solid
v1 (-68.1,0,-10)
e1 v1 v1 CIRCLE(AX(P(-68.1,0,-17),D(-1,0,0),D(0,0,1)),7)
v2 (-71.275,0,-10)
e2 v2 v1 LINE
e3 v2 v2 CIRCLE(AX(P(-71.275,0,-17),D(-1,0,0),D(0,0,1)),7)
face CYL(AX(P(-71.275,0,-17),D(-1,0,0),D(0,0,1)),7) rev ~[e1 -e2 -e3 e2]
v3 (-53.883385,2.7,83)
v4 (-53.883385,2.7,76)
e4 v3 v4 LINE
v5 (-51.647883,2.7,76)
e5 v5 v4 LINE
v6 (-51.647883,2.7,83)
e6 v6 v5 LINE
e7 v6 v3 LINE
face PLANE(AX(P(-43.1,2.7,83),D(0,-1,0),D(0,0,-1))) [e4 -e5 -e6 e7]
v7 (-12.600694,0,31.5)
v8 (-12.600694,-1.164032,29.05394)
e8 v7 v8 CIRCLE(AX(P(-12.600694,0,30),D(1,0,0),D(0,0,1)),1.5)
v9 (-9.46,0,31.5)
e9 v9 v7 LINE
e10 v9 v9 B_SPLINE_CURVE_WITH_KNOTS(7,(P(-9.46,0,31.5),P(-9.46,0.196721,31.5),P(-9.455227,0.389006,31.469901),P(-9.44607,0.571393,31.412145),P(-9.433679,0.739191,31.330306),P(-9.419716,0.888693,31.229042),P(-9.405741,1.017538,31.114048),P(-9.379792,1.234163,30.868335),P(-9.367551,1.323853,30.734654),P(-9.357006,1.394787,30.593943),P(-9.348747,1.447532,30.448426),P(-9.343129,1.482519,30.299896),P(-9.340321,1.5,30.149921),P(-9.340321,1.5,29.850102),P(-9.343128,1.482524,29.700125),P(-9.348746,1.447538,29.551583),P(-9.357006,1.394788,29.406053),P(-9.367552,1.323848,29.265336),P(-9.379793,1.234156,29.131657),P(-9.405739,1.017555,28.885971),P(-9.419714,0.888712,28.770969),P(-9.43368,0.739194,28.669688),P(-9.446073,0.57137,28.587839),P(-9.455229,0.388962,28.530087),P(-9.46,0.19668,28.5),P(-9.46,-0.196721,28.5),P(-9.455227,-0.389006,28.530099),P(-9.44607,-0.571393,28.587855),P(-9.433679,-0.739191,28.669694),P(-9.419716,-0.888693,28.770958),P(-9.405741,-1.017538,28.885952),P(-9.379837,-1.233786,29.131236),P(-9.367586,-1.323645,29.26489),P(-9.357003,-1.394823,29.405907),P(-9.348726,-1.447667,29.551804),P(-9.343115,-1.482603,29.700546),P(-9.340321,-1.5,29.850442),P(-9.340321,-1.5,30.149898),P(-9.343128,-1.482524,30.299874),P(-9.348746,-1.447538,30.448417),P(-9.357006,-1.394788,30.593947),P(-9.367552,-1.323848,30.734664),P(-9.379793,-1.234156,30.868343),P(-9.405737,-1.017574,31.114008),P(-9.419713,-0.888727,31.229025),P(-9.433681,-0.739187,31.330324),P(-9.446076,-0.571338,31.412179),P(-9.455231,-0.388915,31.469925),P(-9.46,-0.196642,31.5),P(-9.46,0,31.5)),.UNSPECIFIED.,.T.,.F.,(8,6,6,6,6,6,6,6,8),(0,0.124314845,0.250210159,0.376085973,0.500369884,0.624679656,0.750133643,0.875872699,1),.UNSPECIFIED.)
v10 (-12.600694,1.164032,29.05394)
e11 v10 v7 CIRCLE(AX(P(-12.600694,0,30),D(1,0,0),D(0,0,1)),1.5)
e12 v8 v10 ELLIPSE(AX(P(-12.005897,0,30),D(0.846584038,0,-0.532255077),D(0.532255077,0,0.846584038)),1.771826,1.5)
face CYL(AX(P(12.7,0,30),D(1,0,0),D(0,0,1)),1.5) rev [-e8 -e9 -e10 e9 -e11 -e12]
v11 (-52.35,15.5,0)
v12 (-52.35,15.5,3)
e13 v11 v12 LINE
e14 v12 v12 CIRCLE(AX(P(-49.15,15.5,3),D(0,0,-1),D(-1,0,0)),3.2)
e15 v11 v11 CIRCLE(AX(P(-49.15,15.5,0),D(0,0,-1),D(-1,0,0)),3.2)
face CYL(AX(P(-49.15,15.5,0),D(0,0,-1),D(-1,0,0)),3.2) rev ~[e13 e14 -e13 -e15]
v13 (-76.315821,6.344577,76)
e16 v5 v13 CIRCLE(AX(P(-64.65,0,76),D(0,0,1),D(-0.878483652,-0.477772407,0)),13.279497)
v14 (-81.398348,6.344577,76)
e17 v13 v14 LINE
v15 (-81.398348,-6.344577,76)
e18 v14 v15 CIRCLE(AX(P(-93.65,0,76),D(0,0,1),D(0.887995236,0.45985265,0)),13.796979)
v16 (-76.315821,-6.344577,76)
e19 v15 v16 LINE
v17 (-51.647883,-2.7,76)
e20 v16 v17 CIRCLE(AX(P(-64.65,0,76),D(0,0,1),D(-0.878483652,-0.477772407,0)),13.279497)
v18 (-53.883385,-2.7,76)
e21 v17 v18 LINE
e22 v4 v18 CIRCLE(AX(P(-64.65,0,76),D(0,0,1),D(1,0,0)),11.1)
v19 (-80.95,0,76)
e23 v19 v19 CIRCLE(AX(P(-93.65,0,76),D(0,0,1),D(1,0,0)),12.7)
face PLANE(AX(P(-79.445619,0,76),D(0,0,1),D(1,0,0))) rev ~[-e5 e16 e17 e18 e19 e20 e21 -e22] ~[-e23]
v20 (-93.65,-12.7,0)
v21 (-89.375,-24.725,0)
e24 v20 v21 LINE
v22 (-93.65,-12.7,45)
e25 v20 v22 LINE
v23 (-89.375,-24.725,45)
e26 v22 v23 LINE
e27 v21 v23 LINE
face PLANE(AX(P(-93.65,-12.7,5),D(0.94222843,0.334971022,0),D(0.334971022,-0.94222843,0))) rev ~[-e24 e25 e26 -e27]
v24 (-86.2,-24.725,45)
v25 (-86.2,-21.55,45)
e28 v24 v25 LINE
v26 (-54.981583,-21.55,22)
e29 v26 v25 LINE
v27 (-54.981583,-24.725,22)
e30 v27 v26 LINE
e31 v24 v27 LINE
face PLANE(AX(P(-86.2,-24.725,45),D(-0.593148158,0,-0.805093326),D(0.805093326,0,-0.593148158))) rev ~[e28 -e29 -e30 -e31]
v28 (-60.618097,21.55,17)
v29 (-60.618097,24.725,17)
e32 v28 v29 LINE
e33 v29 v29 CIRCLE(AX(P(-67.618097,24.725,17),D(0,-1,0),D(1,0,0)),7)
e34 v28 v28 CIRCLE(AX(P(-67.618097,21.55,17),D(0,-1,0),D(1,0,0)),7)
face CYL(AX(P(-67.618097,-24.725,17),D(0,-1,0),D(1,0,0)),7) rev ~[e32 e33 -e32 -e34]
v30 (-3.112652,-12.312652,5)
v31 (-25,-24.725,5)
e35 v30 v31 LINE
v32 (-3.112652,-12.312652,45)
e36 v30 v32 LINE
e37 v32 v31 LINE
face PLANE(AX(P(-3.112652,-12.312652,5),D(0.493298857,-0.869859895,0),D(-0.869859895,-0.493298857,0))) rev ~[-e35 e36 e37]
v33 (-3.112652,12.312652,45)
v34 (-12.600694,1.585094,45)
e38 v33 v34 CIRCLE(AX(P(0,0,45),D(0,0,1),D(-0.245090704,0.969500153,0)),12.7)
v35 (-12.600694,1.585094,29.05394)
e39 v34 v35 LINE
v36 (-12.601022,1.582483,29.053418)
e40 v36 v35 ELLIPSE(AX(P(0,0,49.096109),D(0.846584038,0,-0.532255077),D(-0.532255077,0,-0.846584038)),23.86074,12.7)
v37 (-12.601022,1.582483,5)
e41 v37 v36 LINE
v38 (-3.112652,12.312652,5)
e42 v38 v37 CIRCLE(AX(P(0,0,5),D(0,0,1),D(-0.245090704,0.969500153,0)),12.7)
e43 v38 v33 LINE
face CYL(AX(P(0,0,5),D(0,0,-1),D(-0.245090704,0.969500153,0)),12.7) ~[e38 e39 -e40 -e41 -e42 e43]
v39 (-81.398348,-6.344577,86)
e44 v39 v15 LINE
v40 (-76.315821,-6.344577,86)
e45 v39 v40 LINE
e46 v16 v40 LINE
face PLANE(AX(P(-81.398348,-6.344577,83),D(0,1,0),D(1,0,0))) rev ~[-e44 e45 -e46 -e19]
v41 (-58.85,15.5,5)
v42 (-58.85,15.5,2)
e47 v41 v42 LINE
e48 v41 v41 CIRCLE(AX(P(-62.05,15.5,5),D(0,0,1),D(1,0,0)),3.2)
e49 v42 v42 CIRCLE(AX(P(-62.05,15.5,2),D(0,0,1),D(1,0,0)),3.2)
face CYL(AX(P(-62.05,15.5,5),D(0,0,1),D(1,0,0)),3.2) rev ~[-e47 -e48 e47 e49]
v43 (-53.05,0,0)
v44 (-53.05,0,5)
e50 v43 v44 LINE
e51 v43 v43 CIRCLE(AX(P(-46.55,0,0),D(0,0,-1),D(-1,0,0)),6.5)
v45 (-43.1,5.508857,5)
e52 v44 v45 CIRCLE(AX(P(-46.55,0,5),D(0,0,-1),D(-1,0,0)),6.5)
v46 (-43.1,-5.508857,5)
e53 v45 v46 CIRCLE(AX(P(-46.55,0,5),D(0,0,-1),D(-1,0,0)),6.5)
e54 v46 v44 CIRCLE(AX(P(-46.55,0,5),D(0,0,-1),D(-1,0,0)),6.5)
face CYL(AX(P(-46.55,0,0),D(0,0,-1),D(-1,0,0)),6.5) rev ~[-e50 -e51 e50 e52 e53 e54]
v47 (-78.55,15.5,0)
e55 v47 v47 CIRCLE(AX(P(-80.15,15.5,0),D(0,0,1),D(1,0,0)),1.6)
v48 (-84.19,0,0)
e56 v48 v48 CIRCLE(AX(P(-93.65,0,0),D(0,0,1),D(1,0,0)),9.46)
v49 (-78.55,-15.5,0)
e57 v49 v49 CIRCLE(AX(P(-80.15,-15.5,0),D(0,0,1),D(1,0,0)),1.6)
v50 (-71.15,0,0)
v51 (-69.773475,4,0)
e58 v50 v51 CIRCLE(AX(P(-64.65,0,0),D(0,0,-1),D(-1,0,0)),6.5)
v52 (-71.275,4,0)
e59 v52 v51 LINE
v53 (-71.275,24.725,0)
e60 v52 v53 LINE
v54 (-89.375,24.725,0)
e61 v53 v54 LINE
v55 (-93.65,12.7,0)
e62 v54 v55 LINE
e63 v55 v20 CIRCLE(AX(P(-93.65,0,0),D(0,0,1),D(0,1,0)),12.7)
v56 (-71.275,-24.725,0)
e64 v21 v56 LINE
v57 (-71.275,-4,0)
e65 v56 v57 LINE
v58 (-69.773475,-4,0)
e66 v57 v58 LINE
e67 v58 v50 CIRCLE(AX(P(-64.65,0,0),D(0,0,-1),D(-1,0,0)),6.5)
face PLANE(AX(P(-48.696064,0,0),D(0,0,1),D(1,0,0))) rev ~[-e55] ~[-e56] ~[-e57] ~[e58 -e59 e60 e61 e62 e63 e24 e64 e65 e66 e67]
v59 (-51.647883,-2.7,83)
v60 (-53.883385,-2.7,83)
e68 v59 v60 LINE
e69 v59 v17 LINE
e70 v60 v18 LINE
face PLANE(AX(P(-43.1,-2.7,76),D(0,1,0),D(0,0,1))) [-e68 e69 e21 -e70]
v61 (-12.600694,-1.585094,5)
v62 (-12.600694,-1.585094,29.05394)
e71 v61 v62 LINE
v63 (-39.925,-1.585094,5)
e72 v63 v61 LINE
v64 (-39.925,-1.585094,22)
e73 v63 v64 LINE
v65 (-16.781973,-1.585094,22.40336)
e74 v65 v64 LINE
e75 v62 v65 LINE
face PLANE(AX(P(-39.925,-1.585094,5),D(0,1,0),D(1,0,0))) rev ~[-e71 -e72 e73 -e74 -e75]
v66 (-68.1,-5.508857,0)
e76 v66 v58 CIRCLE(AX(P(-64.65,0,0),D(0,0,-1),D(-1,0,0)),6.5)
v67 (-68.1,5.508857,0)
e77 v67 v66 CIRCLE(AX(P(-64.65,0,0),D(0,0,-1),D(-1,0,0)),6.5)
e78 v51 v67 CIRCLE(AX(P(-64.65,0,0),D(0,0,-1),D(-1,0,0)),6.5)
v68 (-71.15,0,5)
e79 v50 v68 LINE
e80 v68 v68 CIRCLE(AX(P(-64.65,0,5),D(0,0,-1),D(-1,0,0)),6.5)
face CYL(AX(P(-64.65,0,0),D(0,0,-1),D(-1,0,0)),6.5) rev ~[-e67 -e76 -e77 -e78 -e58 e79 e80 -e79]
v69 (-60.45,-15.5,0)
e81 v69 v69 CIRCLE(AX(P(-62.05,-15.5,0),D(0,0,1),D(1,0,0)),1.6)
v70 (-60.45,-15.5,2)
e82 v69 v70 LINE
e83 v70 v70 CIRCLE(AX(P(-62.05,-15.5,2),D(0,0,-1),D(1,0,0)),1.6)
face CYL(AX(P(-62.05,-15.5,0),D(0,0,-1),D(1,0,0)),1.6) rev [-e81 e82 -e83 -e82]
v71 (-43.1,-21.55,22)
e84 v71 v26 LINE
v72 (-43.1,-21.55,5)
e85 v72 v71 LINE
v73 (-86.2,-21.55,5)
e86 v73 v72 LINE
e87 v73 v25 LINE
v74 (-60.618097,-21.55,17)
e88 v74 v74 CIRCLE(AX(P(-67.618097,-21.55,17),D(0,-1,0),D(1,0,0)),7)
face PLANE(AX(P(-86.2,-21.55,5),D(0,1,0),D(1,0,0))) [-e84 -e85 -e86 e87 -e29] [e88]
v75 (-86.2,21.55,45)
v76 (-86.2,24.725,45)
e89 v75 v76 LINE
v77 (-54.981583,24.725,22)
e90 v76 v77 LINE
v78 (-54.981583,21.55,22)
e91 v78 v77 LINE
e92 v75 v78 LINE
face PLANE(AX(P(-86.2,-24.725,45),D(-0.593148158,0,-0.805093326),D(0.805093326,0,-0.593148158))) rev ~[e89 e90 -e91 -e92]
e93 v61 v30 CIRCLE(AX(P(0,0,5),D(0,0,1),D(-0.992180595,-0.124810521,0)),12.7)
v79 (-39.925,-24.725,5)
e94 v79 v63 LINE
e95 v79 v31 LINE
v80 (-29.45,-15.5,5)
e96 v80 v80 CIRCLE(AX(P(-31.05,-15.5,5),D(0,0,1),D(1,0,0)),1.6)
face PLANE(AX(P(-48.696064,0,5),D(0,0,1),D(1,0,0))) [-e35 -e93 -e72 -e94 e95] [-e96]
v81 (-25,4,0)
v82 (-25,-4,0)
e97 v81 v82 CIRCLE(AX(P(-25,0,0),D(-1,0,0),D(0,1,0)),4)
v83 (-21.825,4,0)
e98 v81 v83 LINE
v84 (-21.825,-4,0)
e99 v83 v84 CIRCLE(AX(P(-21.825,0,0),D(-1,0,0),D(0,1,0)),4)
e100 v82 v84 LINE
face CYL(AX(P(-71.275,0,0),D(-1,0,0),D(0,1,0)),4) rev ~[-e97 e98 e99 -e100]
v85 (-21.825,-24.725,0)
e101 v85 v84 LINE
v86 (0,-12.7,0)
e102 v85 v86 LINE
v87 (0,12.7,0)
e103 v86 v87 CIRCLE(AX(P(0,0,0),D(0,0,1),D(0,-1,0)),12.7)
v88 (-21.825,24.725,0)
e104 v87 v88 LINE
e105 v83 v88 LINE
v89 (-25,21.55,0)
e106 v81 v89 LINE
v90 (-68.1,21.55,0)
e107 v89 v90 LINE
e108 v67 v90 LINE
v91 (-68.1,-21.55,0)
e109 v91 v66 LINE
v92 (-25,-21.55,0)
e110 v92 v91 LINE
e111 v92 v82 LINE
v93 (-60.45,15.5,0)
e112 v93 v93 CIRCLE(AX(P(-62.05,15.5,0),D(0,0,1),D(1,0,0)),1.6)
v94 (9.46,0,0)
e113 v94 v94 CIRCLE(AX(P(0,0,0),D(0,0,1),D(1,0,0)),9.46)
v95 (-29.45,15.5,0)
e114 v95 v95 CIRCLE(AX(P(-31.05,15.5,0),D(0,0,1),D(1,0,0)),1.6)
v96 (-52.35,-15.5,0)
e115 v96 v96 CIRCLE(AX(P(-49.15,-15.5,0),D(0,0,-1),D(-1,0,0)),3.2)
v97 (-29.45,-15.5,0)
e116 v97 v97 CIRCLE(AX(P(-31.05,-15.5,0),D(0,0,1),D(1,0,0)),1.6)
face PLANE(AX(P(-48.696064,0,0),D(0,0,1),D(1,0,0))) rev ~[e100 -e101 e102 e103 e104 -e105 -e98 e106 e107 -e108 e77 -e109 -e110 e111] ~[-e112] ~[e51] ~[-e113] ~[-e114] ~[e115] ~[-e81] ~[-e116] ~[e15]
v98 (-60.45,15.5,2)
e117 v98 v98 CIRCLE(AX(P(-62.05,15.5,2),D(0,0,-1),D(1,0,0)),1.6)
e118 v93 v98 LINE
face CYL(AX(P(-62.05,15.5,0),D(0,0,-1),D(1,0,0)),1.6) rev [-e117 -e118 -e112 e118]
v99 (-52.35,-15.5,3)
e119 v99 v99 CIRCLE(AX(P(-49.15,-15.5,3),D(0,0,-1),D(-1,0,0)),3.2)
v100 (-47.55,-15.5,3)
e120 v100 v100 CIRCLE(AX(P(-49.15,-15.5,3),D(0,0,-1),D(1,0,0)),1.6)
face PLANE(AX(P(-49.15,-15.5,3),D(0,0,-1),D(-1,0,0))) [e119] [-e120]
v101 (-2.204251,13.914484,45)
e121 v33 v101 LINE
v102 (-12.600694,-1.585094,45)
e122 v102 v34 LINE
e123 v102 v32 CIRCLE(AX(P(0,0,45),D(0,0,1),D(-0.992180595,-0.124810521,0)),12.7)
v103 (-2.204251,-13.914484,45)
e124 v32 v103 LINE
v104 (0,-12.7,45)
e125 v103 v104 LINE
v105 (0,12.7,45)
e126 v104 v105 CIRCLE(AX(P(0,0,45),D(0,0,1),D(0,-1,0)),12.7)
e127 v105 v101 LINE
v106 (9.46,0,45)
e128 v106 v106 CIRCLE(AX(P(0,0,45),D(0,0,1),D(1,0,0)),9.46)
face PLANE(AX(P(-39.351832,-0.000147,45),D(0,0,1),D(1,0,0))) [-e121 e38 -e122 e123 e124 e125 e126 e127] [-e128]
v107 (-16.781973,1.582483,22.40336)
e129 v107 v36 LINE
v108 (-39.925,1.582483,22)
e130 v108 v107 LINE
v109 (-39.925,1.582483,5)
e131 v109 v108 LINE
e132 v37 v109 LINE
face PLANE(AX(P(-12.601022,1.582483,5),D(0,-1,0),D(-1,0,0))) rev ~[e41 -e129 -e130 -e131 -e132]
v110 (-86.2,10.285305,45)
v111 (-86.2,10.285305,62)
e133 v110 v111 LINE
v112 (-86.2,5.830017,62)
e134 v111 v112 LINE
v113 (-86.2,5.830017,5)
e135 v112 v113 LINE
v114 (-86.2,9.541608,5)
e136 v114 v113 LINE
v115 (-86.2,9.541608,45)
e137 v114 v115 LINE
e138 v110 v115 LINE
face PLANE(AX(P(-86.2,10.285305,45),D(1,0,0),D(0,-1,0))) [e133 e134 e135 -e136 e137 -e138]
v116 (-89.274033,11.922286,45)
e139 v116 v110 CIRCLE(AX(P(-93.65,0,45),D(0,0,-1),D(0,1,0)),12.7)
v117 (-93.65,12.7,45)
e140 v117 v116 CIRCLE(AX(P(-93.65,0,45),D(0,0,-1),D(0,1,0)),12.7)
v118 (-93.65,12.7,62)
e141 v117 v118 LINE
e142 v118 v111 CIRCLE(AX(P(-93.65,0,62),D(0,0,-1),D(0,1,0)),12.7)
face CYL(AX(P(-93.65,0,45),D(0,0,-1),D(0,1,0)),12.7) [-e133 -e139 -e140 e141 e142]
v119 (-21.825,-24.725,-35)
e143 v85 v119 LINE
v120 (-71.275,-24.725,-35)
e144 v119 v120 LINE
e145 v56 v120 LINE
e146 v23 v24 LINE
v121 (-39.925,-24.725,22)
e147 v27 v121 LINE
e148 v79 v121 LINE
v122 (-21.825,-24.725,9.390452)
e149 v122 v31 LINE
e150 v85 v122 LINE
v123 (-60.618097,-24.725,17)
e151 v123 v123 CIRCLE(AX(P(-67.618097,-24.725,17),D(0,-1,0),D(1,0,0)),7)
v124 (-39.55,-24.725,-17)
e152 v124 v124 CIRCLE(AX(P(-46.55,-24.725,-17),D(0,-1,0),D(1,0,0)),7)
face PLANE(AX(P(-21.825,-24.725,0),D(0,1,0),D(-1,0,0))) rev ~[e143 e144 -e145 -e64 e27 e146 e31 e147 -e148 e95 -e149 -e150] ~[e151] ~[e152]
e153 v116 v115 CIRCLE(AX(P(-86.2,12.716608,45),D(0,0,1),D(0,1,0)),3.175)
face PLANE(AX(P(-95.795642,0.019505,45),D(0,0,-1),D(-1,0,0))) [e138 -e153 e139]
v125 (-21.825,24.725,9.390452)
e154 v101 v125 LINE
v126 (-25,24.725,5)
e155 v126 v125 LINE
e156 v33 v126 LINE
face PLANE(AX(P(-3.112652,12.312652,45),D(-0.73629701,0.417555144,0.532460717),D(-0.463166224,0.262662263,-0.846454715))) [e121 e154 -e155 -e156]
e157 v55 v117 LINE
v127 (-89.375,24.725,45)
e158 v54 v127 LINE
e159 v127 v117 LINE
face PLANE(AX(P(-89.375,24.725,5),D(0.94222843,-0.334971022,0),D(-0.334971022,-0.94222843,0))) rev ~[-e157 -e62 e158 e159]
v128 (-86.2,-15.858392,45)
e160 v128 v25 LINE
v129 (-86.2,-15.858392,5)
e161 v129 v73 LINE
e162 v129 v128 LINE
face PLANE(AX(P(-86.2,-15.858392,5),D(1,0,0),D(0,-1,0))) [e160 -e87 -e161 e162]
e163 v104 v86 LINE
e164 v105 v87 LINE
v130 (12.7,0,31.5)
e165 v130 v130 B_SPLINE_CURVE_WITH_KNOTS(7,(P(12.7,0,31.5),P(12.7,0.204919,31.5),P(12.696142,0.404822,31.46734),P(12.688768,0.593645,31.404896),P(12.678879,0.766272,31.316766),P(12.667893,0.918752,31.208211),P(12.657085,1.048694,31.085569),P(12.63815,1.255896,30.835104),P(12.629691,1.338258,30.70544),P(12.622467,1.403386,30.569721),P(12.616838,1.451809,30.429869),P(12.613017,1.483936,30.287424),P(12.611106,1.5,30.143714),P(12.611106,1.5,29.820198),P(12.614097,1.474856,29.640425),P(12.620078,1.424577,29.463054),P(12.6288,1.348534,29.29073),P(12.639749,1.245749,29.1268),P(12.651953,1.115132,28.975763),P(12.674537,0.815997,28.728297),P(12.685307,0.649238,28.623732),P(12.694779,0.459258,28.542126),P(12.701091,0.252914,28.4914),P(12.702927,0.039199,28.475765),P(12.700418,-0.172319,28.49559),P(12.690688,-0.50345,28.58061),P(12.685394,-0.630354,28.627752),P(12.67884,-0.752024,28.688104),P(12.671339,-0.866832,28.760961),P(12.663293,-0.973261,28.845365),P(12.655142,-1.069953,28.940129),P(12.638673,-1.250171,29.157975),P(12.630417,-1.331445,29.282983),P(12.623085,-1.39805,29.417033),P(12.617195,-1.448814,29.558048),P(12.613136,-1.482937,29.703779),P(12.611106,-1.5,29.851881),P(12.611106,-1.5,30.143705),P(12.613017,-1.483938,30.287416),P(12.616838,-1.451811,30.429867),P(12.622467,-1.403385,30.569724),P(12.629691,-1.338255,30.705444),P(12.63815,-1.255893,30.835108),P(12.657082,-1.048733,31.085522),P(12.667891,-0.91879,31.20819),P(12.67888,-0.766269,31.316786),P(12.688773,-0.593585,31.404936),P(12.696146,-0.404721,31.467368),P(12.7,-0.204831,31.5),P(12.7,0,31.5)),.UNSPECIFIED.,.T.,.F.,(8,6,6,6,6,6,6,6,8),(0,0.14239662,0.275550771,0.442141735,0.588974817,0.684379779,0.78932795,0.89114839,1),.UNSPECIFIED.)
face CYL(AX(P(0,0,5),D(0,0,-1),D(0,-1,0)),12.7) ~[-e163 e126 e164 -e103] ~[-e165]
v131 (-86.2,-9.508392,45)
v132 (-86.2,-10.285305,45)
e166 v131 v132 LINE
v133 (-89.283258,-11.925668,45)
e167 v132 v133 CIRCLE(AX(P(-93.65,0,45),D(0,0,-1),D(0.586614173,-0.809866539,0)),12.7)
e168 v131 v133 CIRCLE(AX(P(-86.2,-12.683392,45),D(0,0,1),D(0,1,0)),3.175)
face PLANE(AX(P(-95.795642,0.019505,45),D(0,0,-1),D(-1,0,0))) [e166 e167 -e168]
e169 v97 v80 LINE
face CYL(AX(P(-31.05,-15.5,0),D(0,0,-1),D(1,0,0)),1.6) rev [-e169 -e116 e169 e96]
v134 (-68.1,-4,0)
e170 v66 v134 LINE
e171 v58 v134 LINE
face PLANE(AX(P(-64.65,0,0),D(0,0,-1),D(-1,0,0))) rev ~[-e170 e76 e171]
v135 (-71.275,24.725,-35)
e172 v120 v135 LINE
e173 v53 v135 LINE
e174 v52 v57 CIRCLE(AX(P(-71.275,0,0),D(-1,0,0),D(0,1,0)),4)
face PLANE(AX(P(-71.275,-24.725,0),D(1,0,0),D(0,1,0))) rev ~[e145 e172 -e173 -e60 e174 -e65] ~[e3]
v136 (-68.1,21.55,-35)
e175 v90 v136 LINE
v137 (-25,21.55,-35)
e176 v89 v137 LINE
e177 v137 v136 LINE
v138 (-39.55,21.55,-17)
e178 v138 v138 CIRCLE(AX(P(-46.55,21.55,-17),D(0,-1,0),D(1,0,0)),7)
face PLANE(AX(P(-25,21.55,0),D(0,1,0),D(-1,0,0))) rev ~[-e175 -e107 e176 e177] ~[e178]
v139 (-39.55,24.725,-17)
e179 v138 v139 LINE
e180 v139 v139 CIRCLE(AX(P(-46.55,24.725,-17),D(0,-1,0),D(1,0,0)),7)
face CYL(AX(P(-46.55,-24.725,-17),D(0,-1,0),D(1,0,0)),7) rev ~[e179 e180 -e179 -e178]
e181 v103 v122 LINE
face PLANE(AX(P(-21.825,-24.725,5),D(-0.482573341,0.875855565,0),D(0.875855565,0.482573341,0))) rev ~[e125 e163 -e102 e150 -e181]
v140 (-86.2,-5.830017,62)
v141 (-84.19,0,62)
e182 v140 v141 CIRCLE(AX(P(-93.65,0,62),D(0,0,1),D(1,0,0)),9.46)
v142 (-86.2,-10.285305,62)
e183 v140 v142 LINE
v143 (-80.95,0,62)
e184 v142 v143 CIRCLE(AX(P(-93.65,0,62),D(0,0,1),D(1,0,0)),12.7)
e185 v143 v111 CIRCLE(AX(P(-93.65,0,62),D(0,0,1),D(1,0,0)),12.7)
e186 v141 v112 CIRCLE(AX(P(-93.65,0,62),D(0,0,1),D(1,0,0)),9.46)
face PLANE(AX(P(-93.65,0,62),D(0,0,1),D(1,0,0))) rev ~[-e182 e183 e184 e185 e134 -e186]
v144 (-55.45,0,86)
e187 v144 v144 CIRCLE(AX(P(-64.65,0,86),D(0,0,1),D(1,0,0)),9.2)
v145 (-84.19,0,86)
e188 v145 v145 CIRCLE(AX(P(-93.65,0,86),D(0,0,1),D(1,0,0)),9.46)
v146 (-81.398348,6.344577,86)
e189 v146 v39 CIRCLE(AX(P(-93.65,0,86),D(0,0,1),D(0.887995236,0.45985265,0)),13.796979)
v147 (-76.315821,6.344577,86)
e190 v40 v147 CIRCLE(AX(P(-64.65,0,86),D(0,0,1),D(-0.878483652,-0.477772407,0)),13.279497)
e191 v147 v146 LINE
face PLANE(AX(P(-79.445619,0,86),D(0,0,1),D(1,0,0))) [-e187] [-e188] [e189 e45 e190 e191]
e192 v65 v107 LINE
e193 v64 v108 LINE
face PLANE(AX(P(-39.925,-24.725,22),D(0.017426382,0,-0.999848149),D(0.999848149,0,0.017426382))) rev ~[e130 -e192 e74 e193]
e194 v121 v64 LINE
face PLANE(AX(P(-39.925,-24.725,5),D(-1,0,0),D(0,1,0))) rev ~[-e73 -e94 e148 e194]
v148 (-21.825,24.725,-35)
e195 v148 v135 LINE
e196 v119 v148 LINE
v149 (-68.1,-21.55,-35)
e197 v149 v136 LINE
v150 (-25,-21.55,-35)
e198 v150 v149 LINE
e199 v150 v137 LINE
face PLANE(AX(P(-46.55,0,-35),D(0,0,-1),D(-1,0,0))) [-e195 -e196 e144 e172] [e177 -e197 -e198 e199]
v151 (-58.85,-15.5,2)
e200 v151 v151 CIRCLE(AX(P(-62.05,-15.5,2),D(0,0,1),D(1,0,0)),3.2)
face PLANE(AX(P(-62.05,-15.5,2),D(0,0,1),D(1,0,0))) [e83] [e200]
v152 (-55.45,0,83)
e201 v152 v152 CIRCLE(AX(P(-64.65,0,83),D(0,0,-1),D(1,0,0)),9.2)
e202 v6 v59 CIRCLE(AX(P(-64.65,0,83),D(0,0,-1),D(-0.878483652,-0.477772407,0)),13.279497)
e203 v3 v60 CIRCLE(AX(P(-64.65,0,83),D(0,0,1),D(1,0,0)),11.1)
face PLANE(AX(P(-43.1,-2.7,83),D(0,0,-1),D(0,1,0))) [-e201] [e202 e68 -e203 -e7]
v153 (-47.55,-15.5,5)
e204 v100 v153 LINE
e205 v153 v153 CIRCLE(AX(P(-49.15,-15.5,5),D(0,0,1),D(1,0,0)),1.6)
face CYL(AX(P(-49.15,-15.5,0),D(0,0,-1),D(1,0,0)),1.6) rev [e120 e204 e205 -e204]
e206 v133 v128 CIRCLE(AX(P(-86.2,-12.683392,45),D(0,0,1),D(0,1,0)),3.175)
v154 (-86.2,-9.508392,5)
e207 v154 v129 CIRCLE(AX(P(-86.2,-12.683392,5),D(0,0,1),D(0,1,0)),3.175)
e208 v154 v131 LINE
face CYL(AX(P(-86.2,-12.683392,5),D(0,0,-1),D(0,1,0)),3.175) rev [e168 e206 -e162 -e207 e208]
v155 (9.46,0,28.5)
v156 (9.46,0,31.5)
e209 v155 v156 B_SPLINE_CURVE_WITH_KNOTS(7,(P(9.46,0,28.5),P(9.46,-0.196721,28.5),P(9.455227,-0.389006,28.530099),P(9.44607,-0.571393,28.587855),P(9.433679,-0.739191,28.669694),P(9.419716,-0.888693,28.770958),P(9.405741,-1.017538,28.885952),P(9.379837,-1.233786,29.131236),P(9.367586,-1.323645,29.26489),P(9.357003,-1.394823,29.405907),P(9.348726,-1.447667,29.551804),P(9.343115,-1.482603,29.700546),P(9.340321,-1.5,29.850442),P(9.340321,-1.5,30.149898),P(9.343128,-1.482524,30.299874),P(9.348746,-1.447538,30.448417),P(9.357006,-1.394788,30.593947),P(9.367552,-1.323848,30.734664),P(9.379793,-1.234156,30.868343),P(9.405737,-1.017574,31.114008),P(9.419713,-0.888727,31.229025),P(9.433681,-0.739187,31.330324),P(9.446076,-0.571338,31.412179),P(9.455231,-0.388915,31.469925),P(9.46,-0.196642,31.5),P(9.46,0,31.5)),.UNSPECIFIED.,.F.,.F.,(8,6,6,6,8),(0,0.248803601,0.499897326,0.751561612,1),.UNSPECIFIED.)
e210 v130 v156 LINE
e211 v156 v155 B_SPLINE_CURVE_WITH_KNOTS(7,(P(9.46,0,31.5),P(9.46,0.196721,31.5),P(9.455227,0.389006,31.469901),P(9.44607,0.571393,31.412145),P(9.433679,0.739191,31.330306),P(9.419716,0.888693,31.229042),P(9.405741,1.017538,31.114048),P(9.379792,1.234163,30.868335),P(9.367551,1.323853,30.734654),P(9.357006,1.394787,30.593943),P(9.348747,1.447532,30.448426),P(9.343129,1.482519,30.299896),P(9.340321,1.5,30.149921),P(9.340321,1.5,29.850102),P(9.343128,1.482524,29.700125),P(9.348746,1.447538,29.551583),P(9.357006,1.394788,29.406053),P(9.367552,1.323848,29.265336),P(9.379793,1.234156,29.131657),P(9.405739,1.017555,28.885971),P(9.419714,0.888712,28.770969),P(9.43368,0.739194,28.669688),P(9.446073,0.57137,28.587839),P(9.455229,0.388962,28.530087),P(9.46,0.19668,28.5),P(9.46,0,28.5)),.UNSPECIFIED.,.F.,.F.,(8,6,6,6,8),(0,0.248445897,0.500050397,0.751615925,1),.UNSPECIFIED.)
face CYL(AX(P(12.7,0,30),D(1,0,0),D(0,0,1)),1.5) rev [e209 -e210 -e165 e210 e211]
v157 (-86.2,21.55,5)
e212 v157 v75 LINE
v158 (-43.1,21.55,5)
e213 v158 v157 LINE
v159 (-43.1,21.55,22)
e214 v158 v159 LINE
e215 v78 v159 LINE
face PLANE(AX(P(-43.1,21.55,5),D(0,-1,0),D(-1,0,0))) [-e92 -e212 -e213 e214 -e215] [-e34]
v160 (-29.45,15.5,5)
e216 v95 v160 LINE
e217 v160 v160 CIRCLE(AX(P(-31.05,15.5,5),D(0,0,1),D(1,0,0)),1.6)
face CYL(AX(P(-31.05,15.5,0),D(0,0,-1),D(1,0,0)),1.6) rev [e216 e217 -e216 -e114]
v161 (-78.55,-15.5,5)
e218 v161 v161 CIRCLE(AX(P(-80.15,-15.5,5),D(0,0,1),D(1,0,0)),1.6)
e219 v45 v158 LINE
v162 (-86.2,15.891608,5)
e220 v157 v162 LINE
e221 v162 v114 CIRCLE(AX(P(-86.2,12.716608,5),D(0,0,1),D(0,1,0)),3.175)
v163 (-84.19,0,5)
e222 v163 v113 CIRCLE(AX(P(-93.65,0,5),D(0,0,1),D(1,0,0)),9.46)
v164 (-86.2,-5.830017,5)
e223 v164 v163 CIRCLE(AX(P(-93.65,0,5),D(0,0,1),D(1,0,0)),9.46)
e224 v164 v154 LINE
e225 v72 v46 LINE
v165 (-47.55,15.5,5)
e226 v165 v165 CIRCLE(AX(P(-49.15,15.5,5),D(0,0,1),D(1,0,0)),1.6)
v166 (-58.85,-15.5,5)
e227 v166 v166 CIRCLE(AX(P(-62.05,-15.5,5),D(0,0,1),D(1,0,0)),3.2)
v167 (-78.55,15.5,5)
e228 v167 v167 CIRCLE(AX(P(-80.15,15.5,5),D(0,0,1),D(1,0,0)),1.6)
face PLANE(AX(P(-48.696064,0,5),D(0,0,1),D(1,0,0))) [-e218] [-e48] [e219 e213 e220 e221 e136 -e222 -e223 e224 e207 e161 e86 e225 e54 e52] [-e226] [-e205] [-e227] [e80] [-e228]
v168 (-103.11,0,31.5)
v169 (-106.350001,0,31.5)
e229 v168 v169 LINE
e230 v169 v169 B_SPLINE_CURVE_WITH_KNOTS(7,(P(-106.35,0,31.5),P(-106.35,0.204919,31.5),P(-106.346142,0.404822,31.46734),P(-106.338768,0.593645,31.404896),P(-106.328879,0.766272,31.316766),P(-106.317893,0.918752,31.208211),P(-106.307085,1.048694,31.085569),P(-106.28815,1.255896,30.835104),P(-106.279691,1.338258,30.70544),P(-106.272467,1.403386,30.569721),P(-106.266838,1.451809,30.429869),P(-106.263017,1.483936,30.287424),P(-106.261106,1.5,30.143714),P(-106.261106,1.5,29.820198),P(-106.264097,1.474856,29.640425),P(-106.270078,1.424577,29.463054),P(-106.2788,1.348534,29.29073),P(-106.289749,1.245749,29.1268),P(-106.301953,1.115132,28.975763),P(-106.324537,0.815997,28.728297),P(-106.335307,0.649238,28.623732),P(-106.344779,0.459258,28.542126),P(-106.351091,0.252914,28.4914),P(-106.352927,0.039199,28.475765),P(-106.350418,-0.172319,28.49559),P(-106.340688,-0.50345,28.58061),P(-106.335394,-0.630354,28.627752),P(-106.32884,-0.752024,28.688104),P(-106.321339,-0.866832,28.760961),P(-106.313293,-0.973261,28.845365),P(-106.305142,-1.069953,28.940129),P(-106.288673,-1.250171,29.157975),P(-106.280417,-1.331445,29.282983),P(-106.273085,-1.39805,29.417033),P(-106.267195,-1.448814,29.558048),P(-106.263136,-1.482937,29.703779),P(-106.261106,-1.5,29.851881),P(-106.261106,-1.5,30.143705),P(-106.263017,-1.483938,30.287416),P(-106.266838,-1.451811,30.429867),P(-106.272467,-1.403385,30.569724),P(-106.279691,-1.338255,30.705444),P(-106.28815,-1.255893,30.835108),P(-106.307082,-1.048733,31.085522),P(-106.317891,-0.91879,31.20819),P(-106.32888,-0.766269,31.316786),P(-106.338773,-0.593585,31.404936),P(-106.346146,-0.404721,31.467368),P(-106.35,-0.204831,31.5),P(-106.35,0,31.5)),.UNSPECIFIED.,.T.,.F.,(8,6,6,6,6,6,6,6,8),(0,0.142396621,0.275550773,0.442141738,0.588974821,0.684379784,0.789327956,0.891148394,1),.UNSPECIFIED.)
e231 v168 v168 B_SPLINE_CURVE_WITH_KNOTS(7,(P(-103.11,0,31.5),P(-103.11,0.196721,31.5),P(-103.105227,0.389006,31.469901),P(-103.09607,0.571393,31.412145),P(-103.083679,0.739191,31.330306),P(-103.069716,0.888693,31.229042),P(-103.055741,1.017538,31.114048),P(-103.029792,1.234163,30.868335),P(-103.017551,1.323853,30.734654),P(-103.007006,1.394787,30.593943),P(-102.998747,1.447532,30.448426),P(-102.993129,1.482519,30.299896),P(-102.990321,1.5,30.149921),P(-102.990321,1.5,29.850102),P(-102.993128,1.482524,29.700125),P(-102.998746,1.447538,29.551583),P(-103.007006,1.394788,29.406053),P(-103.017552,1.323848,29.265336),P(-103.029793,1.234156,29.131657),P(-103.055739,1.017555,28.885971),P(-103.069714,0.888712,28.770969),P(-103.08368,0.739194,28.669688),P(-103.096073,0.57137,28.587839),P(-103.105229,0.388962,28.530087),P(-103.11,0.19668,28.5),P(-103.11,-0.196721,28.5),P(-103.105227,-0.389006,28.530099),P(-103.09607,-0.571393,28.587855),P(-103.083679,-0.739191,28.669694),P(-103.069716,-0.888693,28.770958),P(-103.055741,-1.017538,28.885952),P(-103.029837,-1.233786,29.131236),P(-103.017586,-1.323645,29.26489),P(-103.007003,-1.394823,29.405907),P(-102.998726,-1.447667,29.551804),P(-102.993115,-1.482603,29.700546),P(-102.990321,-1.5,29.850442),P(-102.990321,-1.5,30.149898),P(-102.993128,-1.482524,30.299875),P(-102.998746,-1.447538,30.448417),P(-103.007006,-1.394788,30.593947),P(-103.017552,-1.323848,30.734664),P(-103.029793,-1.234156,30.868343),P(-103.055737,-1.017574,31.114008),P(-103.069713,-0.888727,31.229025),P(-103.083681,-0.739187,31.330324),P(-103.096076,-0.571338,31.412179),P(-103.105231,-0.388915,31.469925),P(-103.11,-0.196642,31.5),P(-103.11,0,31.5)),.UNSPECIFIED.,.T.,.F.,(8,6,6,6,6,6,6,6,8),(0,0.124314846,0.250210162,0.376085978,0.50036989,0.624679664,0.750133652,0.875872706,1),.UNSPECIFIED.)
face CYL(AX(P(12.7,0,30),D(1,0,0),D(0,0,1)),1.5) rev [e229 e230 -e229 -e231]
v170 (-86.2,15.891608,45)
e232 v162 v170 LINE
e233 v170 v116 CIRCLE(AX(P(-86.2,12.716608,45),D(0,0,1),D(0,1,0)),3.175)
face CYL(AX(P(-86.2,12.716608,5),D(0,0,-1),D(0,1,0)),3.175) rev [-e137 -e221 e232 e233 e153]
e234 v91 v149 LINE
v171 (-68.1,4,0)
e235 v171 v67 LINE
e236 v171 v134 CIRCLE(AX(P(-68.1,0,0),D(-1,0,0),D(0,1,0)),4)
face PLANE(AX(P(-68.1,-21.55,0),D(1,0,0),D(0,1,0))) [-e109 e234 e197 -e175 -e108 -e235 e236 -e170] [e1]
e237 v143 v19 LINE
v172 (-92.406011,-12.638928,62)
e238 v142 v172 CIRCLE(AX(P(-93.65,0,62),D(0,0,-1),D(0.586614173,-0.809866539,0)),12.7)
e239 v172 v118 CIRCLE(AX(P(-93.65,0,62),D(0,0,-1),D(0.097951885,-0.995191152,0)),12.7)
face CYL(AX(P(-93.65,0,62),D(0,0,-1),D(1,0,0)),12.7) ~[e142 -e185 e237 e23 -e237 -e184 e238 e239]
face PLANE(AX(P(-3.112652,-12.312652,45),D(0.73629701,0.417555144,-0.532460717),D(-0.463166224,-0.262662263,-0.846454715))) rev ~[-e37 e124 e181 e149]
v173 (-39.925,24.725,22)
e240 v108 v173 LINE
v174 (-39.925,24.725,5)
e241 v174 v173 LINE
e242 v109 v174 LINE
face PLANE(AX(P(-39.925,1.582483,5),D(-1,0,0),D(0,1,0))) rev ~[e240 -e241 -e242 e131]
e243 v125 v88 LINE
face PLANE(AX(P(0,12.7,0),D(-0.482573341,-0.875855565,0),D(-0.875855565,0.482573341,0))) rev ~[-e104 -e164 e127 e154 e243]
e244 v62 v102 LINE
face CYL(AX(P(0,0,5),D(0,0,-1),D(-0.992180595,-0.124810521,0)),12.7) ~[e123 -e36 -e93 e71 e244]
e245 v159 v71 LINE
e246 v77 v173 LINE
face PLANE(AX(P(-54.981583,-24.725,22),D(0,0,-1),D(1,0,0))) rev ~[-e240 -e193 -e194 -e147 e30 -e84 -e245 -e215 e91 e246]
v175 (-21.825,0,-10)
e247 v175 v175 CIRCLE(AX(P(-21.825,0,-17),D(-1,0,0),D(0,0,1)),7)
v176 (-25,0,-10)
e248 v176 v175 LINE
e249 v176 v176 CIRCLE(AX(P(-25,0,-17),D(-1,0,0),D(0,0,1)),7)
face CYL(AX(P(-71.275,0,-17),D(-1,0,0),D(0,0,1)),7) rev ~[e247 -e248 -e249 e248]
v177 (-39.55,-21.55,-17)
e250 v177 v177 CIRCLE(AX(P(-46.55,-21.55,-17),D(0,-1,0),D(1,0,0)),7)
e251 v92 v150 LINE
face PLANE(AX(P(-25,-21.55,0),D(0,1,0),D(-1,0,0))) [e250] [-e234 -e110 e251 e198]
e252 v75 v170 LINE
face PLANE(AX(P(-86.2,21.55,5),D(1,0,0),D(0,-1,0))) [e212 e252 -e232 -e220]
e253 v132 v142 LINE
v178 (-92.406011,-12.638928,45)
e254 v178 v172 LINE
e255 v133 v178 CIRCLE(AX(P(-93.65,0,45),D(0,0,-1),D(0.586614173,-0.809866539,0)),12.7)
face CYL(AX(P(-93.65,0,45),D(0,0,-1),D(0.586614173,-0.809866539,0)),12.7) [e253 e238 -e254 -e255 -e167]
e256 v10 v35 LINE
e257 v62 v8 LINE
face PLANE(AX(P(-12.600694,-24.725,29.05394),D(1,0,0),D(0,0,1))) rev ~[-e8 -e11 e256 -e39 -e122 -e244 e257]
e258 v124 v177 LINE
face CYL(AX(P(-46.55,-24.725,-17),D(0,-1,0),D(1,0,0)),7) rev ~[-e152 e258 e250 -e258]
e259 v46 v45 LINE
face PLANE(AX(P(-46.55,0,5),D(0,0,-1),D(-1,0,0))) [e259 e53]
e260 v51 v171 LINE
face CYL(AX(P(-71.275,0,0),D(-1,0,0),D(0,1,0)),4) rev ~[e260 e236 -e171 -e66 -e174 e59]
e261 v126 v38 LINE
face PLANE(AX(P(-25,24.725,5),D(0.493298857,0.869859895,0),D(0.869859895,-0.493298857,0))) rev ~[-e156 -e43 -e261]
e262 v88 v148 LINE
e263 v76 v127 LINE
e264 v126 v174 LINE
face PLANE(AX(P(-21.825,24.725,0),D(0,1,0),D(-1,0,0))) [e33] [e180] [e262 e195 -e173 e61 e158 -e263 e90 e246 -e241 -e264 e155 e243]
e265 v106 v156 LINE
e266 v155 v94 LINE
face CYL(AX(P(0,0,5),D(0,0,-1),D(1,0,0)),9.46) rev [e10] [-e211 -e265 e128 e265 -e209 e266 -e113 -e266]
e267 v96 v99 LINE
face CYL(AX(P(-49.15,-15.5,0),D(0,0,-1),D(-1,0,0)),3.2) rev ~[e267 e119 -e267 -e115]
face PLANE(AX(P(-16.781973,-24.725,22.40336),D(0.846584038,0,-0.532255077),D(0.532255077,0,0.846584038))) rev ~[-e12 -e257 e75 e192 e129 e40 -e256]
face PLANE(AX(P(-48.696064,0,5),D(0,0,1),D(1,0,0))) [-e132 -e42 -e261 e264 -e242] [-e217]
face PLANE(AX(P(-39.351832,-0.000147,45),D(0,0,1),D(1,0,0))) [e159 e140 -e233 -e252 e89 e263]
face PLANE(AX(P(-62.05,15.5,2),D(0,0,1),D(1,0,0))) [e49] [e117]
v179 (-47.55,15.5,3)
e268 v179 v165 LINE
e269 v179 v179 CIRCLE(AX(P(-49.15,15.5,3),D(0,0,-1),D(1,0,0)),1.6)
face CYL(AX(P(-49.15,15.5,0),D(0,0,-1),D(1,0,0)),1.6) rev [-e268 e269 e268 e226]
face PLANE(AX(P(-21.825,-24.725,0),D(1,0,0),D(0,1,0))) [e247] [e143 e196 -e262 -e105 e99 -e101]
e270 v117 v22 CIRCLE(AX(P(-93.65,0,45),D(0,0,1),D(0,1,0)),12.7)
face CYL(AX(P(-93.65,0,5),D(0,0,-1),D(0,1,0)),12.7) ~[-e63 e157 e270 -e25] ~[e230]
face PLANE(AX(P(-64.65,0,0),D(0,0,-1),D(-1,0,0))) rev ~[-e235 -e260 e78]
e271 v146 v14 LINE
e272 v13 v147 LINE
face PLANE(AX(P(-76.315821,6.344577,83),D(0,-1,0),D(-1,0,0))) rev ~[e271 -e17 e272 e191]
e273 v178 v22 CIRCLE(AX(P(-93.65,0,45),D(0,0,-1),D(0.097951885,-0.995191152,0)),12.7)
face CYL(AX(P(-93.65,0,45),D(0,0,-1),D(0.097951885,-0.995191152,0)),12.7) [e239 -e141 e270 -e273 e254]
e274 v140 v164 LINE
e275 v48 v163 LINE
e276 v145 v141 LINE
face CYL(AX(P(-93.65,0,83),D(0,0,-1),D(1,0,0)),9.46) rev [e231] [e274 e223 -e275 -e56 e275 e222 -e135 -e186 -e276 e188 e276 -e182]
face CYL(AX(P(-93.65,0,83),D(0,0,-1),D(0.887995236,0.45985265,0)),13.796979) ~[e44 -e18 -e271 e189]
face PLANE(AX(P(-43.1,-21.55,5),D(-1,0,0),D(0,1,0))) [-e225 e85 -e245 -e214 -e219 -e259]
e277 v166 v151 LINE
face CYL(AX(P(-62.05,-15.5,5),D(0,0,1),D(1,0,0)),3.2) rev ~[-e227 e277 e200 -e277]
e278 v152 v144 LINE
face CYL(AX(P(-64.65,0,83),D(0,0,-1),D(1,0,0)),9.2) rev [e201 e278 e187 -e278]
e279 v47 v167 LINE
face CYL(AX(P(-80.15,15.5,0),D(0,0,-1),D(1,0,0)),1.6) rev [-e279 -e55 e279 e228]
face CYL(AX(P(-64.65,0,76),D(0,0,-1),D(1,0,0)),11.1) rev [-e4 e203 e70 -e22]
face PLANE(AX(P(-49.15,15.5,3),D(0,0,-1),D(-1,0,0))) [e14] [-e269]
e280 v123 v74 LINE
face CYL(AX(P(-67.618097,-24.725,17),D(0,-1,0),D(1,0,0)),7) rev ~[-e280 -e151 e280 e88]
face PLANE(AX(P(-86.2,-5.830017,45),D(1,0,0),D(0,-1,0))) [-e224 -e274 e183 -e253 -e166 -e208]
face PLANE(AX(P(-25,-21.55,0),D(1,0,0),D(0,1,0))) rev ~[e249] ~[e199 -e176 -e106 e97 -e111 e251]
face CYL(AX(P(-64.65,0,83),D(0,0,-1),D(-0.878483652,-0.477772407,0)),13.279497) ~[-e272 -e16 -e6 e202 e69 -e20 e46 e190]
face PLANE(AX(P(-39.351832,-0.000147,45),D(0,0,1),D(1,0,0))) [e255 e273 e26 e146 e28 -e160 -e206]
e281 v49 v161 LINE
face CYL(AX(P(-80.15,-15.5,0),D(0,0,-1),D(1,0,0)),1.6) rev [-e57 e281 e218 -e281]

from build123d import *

# Parameters (mm, degrees)
SKETCH5_R       = 9.46
SKETCH5_R_2     = 1.6
EXTRUDE1_DEPTH  = 5
SKETCH6_R       = 9.46
EXTRUDE2_DEPTH  = 40
SKETCH7_W       = 49.45
SKETCH7_H       = 49.45
SKETCH7_W_2     = 43.1
SKETCH7_H_2     = 43.1
EXTRUDE3_DEPTH  = 35
EXTRUDE5_REACH  = 20.597
EXTRUDE6_REACH  = 20.597
SKETCH16_R      = 7
EXTRUDE9_DEPTH  = 49.45
EXTRUDE10_DEPTH = 17
SKETCH18_R      = 12.7
SKETCH18_R_2    = 9.46
EXTRUDE11_DEPTH = 14
SKETCH19_R      = 11.1
SKETCH19_R_2    = 9.46
EXTRUDE12_DEPTH = 7
SKETCH20_R      = 9.46
SKETCH20_R_2    = 9.2
EXTRUDE13_DEPTH = 3
EXTRUDE14_DEPTH = 15
SKETCH22_R      = 3.2
EXTRUDE15_DEPTH = 3
SKETCH23_R      = 3.2
EXTRUDE16_DEPTH = 3
SKETCH24_R      = 7
EXTRUDE17_DEPTH = 49.45
SKETCH25_R      = 6.5
EXTRUDE18_DEPTH = 5
EXTRUDE19_START = -25.300694
SKETCH26_R      = 1.5
EXTRUDE19_DEPTH = 119.050001


with BuildPart() as part:
    # Sketch5 → Extrude1 (new body)
    with BuildSketch(Plane.XY):
        with BuildLine():
            Line((-21.825, -24.725), (0, -12.7))
            ThreePointArc((0, -12.7), (12.7, 0), (0, 12.7))
            Line((0, 12.7), (-21.825, 24.725))
            Line((-21.825, 24.725), (-89.375, 24.725))
            Line((-89.375, 24.725), (-93.65, 12.7))
            ThreePointArc((-93.65, 12.7), (-106.35, 0), (-93.65, -12.7))
            Line((-93.65, -12.7), (-89.375, -24.725))
            Line((-89.375, -24.725), (-21.825, -24.725))
        make_face()
        Circle(SKETCH5_R, mode=Mode.SUBTRACT)
        with Locations((-93.65, 0)):
            Circle(SKETCH5_R, mode=Mode.SUBTRACT)
        with Locations((-31.05, 15.5)):
            Circle(SKETCH5_R_2, mode=Mode.SUBTRACT)
        with Locations((-31.05, -15.5)):
            Circle(SKETCH5_R_2, mode=Mode.SUBTRACT)
        with Locations((-49.15, -15.5)):
            Circle(SKETCH5_R_2, mode=Mode.SUBTRACT)
        with Locations((-49.15, 15.5)):
            Circle(SKETCH5_R_2, mode=Mode.SUBTRACT)
        with Locations((-62.05, 15.5)):
            Circle(SKETCH5_R_2, mode=Mode.SUBTRACT)
        with Locations((-80.15, 15.5)):
            Circle(SKETCH5_R_2, mode=Mode.SUBTRACT)
        with Locations((-80.15, -15.5)):
            Circle(SKETCH5_R_2, mode=Mode.SUBTRACT)
        with Locations((-62.05, -15.5)):
            Circle(SKETCH5_R_2, mode=Mode.SUBTRACT)
    extrude(amount=EXTRUDE1_DEPTH)

    # Sketch6 → Extrude2 (add)
    with BuildSketch(Plane.XY.offset(5)):
        with BuildLine():
            Line((-39.925, 24.725), (-89.375, 24.725))
            Line((-89.375, 24.725), (-93.65, 12.7))
            ThreePointArc((-93.65, 12.7), (-106.35, 0), (-93.65, -12.7))
            Line((-93.65, -12.7), (-89.375, -24.725))
            Line((-89.375, -24.725), (-39.925, -24.725))
            Line((-39.925, -24.725), (-39.925, -1.585093616))
            Line((-39.925, -1.585093616), (-12.600693561, -1.585093616))
            ThreePointArc((-12.600693561, -1.585093616), (-9.51301391, -8.413831847), (-3.112651943, -12.312651943))
            Line((-3.112651943, -12.312651943), (-25, -24.725))
            Line((-25, -24.725), (-21.825, -24.725))
            Line((-21.825, -24.725), (0, -12.7))
            ThreePointArc((0, -12.7), (12.7, 0), (0, 12.7))
            Line((0, 12.7), (-21.825, 24.725))
            Line((-21.825, 24.725), (-25, 24.725))
            Line((-25, 24.725), (-3.112651943, 12.312651943))
            ThreePointArc((-3.112651943, 12.312651943), (-9.513885465, 8.41284633), (-12.601021697, 1.58248292))
            Line((-12.601021697, 1.58248292), (-39.925, 1.58248292))
            Line((-39.925, 1.58248292), (-39.925, 24.725))
        make_face()
        Circle(SKETCH6_R, mode=Mode.SUBTRACT)
        with BuildLine():
            Line((-86.2, -21.55), (-43.1, -21.55))
            Line((-43.1, -21.55), (-43.1, 21.55))
            Line((-43.1, 21.55), (-86.2, 21.55))
            Line((-86.2, 21.55), (-86.2, 15.891608363))
            ThreePointArc((-86.2, 15.891608363), (-89.375, 12.716608363), (-86.2, 9.541608363))
            Line((-86.2, 9.541608363), (-86.2, 5.830017153))
            ThreePointArc((-86.2, 5.830017153), (-103.11, 0), (-86.2, -5.830017153))
            Line((-86.2, -5.830017153), (-86.2, -9.508391637))
            ThreePointArc((-86.2, -9.508391637), (-89.375, -12.683391637), (-86.2, -15.858391637))
            Line((-86.2, -15.858391637), (-86.2, -21.55))
        make_face(mode=Mode.SUBTRACT)
    extrude(amount=EXTRUDE2_DEPTH)

    # Sketch7 → Extrude3 (add)
    with BuildSketch(Plane(origin=(0, 0, 0), x_dir=(-1, 0, 0), z_dir=(0, 0, -1))):
        with Locations((46.55, 0)):
            Rectangle(SKETCH7_W, SKETCH7_H)
        with Locations((46.55, 0)):
            Rectangle(SKETCH7_W_2, SKETCH7_H_2, mode=Mode.SUBTRACT)
    extrude(amount=EXTRUDE3_DEPTH)

    # Extrude5: up to this face of the body (flat: up to its plane)
    extrude5_end = Plane(part.part.faces().sort_by_distance((-10.9125, 18.7125, 22.5))[0])
    # Sketch12 → Extrude5 (cut, up to the picked face)
    with BuildSketch(Plane(origin=(4.5259255, 7.980803168, 0), x_dir=(0, 0, 1), z_dir=(-0.493298857, -0.869859895, 0)), mode=Mode.PRIVATE) as extrude5_sk1:
        Polygon((45, 8.781388226), (5, 33.943311626), (45, 33.943311626), align=None)
    extrude5_tool1 = split(extrude(extrude5_sk1.sketch, amount=-EXTRUDE5_REACH, mode=Mode.PRIVATE), bisect_by=extrude5_end, keep=Keep.BOTH, mode=Mode.PRIVATE)
    add(extrude5_tool1.solids().sort_by_distance((-17.704217, 20.587551, 31.666667))[0], mode=Mode.SUBTRACT)

    # Extrude6: up to this face of the body (flat: up to its plane)
    extrude6_end = Plane(part.part.faces().sort_by_distance((-10.9125, -18.7125, 22.5))[0])
    # Sketch13 → Extrude6 (cut, up to the picked face)
    with BuildSketch(Plane(origin=(4.5259255, -7.980803168, 0), x_dir=(0, 0, 1), z_dir=(-0.493298857, 0.869859895, 0)), mode=Mode.PRIVATE) as extrude6_sk1:
        Polygon((45, -8.781388226), (5, -33.943311626), (45, -33.943311626), align=None)
    extrude6_tool1 = split(extrude(extrude6_sk1.sketch, amount=-EXTRUDE6_REACH, mode=Mode.PRIVATE), bisect_by=extrude6_end, keep=Keep.BOTH, mode=Mode.PRIVATE)
    add(extrude6_tool1.solids().sort_by_distance((-17.704217, -20.587551, 31.666667))[0], mode=Mode.SUBTRACT)

    # Sketch16 → Extrude9 (cut)
    with BuildSketch(Plane.XZ.offset(24.725)):
        with Locations((-46.55, -17)):
            Circle(SKETCH16_R)
        with Locations((-67.618096531, 17)):
            Circle(SKETCH16_R)
        Polygon((-39.925, 22), (-16.781973348, 22.403360483), (-12.600693561, 29.053940018), (-12.600693561, 45), (-86.2, 45), (-54.981583076, 22), align=None)
    extrude(amount=-EXTRUDE9_DEPTH, mode=Mode.SUBTRACT)

    # Sketch17 → Extrude10 (add)
    with BuildSketch(Plane.XY.offset(45)):
        with BuildLine():
            Line((-86.2, 10.285305051), (-86.2, 5.830017153))
            ThreePointArc((-86.2, 5.830017153), (-103.11, 0), (-86.2, -5.830017153))
            Line((-86.2, -5.830017153), (-86.2, -10.285305051))
            ThreePointArc((-86.2, -10.285305051), (-89.146529591, -11.874710703), (-92.40601106, -12.638927625))
            ThreePointArc((-92.40601106, -12.638927625), (-106.334722718, -0.62274359), (-93.65, 12.7))
            ThreePointArc((-93.65, 12.7), (-89.734222565, 12.081253539), (-86.2, 10.285305051))
        make_face()
    extrude(amount=EXTRUDE10_DEPTH)

    # Sketch18 → Extrude11 (add)
    with BuildSketch(Plane.XY.offset(62)):
        with Locations((-93.65, 0)):
            Circle(SKETCH18_R)
        with Locations((-93.65, 0)):
            Circle(SKETCH18_R_2, mode=Mode.SUBTRACT)
    extrude(amount=EXTRUDE11_DEPTH)

    # Sketch19 → Extrude12 (add)
    with BuildSketch(Plane.XY.offset(76)):
        with BuildLine():
            Line((-81.398348387, -6.344577353), (-76.315821236, -6.344577353))
            ThreePointArc((-76.315821236, -6.344577353), (-51.370502761, 0), (-76.315821236, 6.344577353))
            Line((-76.315821236, 6.344577353), (-81.398348387, 6.344577353))
            ThreePointArc((-81.398348387, 6.344577353), (-107.446978982, 0), (-81.398348387, -6.344577353))
        make_face()
        with Locations((-64.65, 0)):
            Circle(SKETCH19_R, mode=Mode.SUBTRACT)
        with Locations((-93.65, 0)):
            Circle(SKETCH19_R_2, mode=Mode.SUBTRACT)
    extrude(amount=EXTRUDE12_DEPTH)

    # Sketch20 → Extrude13 (add)
    with BuildSketch(Plane.XY.offset(83)):
        with BuildLine():
            Line((-81.398348387, -6.344577353), (-76.315821236, -6.344577353))
            ThreePointArc((-76.315821236, -6.344577353), (-51.370502761, 0), (-76.315821236, 6.344577353))
            Line((-76.315821236, 6.344577353), (-81.398348387, 6.344577353))
            ThreePointArc((-81.398348387, 6.344577353), (-107.446978982, 0), (-81.398348387, -6.344577353))
        make_face()
        with Locations((-93.65, 0)):
            Circle(SKETCH20_R, mode=Mode.SUBTRACT)
        with Locations((-64.65, 0)):
            Circle(SKETCH20_R_2, mode=Mode.SUBTRACT)
    extrude(amount=EXTRUDE13_DEPTH)

    # Sketch21 → Extrude14 (cut)
    with BuildSketch(Plane.ZY.offset(43.1)):
        Polygon((76, 0), (76, -2.7), (83, -2.7), (83, 2.7), (76, 2.7), align=None)
    extrude(amount=EXTRUDE14_DEPTH, mode=Mode.SUBTRACT)

    # Sketch22 → Extrude15 (cut)
    with BuildSketch(Plane.XY.offset(5)):
        with Locations((-62.05, 15.5)):
            Circle(SKETCH22_R)
        with Locations((-62.05, -15.5)):
            Circle(SKETCH22_R)
    extrude(amount=-EXTRUDE15_DEPTH, mode=Mode.SUBTRACT)

    # Sketch23 → Extrude16 (cut)
    with BuildSketch(Plane(origin=(0, 0, 0), x_dir=(-1, 0, 0), z_dir=(0, 0, -1))):
        with Locations((49.15, 15.5)):
            Circle(SKETCH23_R)
        with Locations((49.15, -15.5)):
            Circle(SKETCH23_R)
    extrude(amount=-EXTRUDE16_DEPTH, mode=Mode.SUBTRACT)

    # Sketch24 → Extrude17 (cut)
    with BuildSketch(Plane.ZY.offset(71.275)):
        with Locations((-17, 0)):
            Circle(SKETCH24_R)
        with BuildLine():
            Line((0, 0), (0, 4))
            ThreePointArc((0, 4), (-4, 0), (0, -4))
            Line((0, -4), (0, 0))
        make_face()
    extrude(amount=-EXTRUDE17_DEPTH, mode=Mode.SUBTRACT)

    # Sketch25 → Extrude18 (cut)
    with BuildSketch(Plane(origin=(0, 0, 0), x_dir=(-1, 0, 0), z_dir=(0, 0, -1))):
        with Locations((46.55, 0)):
            Circle(SKETCH25_R)
        with Locations((64.65, 0)):
            Circle(SKETCH25_R)
    extrude(amount=-EXTRUDE18_DEPTH, mode=Mode.SUBTRACT)

    # Sketch26 → Extrude19 (cut)
    with BuildSketch(Plane.ZY.offset(12.600693561).offset(EXTRUDE19_START)):
        with Locations((30, 0)):
            Circle(SKETCH26_R)
    extrude(amount=EXTRUDE19_DEPTH, mode=Mode.SUBTRACT)


solid = part.part
